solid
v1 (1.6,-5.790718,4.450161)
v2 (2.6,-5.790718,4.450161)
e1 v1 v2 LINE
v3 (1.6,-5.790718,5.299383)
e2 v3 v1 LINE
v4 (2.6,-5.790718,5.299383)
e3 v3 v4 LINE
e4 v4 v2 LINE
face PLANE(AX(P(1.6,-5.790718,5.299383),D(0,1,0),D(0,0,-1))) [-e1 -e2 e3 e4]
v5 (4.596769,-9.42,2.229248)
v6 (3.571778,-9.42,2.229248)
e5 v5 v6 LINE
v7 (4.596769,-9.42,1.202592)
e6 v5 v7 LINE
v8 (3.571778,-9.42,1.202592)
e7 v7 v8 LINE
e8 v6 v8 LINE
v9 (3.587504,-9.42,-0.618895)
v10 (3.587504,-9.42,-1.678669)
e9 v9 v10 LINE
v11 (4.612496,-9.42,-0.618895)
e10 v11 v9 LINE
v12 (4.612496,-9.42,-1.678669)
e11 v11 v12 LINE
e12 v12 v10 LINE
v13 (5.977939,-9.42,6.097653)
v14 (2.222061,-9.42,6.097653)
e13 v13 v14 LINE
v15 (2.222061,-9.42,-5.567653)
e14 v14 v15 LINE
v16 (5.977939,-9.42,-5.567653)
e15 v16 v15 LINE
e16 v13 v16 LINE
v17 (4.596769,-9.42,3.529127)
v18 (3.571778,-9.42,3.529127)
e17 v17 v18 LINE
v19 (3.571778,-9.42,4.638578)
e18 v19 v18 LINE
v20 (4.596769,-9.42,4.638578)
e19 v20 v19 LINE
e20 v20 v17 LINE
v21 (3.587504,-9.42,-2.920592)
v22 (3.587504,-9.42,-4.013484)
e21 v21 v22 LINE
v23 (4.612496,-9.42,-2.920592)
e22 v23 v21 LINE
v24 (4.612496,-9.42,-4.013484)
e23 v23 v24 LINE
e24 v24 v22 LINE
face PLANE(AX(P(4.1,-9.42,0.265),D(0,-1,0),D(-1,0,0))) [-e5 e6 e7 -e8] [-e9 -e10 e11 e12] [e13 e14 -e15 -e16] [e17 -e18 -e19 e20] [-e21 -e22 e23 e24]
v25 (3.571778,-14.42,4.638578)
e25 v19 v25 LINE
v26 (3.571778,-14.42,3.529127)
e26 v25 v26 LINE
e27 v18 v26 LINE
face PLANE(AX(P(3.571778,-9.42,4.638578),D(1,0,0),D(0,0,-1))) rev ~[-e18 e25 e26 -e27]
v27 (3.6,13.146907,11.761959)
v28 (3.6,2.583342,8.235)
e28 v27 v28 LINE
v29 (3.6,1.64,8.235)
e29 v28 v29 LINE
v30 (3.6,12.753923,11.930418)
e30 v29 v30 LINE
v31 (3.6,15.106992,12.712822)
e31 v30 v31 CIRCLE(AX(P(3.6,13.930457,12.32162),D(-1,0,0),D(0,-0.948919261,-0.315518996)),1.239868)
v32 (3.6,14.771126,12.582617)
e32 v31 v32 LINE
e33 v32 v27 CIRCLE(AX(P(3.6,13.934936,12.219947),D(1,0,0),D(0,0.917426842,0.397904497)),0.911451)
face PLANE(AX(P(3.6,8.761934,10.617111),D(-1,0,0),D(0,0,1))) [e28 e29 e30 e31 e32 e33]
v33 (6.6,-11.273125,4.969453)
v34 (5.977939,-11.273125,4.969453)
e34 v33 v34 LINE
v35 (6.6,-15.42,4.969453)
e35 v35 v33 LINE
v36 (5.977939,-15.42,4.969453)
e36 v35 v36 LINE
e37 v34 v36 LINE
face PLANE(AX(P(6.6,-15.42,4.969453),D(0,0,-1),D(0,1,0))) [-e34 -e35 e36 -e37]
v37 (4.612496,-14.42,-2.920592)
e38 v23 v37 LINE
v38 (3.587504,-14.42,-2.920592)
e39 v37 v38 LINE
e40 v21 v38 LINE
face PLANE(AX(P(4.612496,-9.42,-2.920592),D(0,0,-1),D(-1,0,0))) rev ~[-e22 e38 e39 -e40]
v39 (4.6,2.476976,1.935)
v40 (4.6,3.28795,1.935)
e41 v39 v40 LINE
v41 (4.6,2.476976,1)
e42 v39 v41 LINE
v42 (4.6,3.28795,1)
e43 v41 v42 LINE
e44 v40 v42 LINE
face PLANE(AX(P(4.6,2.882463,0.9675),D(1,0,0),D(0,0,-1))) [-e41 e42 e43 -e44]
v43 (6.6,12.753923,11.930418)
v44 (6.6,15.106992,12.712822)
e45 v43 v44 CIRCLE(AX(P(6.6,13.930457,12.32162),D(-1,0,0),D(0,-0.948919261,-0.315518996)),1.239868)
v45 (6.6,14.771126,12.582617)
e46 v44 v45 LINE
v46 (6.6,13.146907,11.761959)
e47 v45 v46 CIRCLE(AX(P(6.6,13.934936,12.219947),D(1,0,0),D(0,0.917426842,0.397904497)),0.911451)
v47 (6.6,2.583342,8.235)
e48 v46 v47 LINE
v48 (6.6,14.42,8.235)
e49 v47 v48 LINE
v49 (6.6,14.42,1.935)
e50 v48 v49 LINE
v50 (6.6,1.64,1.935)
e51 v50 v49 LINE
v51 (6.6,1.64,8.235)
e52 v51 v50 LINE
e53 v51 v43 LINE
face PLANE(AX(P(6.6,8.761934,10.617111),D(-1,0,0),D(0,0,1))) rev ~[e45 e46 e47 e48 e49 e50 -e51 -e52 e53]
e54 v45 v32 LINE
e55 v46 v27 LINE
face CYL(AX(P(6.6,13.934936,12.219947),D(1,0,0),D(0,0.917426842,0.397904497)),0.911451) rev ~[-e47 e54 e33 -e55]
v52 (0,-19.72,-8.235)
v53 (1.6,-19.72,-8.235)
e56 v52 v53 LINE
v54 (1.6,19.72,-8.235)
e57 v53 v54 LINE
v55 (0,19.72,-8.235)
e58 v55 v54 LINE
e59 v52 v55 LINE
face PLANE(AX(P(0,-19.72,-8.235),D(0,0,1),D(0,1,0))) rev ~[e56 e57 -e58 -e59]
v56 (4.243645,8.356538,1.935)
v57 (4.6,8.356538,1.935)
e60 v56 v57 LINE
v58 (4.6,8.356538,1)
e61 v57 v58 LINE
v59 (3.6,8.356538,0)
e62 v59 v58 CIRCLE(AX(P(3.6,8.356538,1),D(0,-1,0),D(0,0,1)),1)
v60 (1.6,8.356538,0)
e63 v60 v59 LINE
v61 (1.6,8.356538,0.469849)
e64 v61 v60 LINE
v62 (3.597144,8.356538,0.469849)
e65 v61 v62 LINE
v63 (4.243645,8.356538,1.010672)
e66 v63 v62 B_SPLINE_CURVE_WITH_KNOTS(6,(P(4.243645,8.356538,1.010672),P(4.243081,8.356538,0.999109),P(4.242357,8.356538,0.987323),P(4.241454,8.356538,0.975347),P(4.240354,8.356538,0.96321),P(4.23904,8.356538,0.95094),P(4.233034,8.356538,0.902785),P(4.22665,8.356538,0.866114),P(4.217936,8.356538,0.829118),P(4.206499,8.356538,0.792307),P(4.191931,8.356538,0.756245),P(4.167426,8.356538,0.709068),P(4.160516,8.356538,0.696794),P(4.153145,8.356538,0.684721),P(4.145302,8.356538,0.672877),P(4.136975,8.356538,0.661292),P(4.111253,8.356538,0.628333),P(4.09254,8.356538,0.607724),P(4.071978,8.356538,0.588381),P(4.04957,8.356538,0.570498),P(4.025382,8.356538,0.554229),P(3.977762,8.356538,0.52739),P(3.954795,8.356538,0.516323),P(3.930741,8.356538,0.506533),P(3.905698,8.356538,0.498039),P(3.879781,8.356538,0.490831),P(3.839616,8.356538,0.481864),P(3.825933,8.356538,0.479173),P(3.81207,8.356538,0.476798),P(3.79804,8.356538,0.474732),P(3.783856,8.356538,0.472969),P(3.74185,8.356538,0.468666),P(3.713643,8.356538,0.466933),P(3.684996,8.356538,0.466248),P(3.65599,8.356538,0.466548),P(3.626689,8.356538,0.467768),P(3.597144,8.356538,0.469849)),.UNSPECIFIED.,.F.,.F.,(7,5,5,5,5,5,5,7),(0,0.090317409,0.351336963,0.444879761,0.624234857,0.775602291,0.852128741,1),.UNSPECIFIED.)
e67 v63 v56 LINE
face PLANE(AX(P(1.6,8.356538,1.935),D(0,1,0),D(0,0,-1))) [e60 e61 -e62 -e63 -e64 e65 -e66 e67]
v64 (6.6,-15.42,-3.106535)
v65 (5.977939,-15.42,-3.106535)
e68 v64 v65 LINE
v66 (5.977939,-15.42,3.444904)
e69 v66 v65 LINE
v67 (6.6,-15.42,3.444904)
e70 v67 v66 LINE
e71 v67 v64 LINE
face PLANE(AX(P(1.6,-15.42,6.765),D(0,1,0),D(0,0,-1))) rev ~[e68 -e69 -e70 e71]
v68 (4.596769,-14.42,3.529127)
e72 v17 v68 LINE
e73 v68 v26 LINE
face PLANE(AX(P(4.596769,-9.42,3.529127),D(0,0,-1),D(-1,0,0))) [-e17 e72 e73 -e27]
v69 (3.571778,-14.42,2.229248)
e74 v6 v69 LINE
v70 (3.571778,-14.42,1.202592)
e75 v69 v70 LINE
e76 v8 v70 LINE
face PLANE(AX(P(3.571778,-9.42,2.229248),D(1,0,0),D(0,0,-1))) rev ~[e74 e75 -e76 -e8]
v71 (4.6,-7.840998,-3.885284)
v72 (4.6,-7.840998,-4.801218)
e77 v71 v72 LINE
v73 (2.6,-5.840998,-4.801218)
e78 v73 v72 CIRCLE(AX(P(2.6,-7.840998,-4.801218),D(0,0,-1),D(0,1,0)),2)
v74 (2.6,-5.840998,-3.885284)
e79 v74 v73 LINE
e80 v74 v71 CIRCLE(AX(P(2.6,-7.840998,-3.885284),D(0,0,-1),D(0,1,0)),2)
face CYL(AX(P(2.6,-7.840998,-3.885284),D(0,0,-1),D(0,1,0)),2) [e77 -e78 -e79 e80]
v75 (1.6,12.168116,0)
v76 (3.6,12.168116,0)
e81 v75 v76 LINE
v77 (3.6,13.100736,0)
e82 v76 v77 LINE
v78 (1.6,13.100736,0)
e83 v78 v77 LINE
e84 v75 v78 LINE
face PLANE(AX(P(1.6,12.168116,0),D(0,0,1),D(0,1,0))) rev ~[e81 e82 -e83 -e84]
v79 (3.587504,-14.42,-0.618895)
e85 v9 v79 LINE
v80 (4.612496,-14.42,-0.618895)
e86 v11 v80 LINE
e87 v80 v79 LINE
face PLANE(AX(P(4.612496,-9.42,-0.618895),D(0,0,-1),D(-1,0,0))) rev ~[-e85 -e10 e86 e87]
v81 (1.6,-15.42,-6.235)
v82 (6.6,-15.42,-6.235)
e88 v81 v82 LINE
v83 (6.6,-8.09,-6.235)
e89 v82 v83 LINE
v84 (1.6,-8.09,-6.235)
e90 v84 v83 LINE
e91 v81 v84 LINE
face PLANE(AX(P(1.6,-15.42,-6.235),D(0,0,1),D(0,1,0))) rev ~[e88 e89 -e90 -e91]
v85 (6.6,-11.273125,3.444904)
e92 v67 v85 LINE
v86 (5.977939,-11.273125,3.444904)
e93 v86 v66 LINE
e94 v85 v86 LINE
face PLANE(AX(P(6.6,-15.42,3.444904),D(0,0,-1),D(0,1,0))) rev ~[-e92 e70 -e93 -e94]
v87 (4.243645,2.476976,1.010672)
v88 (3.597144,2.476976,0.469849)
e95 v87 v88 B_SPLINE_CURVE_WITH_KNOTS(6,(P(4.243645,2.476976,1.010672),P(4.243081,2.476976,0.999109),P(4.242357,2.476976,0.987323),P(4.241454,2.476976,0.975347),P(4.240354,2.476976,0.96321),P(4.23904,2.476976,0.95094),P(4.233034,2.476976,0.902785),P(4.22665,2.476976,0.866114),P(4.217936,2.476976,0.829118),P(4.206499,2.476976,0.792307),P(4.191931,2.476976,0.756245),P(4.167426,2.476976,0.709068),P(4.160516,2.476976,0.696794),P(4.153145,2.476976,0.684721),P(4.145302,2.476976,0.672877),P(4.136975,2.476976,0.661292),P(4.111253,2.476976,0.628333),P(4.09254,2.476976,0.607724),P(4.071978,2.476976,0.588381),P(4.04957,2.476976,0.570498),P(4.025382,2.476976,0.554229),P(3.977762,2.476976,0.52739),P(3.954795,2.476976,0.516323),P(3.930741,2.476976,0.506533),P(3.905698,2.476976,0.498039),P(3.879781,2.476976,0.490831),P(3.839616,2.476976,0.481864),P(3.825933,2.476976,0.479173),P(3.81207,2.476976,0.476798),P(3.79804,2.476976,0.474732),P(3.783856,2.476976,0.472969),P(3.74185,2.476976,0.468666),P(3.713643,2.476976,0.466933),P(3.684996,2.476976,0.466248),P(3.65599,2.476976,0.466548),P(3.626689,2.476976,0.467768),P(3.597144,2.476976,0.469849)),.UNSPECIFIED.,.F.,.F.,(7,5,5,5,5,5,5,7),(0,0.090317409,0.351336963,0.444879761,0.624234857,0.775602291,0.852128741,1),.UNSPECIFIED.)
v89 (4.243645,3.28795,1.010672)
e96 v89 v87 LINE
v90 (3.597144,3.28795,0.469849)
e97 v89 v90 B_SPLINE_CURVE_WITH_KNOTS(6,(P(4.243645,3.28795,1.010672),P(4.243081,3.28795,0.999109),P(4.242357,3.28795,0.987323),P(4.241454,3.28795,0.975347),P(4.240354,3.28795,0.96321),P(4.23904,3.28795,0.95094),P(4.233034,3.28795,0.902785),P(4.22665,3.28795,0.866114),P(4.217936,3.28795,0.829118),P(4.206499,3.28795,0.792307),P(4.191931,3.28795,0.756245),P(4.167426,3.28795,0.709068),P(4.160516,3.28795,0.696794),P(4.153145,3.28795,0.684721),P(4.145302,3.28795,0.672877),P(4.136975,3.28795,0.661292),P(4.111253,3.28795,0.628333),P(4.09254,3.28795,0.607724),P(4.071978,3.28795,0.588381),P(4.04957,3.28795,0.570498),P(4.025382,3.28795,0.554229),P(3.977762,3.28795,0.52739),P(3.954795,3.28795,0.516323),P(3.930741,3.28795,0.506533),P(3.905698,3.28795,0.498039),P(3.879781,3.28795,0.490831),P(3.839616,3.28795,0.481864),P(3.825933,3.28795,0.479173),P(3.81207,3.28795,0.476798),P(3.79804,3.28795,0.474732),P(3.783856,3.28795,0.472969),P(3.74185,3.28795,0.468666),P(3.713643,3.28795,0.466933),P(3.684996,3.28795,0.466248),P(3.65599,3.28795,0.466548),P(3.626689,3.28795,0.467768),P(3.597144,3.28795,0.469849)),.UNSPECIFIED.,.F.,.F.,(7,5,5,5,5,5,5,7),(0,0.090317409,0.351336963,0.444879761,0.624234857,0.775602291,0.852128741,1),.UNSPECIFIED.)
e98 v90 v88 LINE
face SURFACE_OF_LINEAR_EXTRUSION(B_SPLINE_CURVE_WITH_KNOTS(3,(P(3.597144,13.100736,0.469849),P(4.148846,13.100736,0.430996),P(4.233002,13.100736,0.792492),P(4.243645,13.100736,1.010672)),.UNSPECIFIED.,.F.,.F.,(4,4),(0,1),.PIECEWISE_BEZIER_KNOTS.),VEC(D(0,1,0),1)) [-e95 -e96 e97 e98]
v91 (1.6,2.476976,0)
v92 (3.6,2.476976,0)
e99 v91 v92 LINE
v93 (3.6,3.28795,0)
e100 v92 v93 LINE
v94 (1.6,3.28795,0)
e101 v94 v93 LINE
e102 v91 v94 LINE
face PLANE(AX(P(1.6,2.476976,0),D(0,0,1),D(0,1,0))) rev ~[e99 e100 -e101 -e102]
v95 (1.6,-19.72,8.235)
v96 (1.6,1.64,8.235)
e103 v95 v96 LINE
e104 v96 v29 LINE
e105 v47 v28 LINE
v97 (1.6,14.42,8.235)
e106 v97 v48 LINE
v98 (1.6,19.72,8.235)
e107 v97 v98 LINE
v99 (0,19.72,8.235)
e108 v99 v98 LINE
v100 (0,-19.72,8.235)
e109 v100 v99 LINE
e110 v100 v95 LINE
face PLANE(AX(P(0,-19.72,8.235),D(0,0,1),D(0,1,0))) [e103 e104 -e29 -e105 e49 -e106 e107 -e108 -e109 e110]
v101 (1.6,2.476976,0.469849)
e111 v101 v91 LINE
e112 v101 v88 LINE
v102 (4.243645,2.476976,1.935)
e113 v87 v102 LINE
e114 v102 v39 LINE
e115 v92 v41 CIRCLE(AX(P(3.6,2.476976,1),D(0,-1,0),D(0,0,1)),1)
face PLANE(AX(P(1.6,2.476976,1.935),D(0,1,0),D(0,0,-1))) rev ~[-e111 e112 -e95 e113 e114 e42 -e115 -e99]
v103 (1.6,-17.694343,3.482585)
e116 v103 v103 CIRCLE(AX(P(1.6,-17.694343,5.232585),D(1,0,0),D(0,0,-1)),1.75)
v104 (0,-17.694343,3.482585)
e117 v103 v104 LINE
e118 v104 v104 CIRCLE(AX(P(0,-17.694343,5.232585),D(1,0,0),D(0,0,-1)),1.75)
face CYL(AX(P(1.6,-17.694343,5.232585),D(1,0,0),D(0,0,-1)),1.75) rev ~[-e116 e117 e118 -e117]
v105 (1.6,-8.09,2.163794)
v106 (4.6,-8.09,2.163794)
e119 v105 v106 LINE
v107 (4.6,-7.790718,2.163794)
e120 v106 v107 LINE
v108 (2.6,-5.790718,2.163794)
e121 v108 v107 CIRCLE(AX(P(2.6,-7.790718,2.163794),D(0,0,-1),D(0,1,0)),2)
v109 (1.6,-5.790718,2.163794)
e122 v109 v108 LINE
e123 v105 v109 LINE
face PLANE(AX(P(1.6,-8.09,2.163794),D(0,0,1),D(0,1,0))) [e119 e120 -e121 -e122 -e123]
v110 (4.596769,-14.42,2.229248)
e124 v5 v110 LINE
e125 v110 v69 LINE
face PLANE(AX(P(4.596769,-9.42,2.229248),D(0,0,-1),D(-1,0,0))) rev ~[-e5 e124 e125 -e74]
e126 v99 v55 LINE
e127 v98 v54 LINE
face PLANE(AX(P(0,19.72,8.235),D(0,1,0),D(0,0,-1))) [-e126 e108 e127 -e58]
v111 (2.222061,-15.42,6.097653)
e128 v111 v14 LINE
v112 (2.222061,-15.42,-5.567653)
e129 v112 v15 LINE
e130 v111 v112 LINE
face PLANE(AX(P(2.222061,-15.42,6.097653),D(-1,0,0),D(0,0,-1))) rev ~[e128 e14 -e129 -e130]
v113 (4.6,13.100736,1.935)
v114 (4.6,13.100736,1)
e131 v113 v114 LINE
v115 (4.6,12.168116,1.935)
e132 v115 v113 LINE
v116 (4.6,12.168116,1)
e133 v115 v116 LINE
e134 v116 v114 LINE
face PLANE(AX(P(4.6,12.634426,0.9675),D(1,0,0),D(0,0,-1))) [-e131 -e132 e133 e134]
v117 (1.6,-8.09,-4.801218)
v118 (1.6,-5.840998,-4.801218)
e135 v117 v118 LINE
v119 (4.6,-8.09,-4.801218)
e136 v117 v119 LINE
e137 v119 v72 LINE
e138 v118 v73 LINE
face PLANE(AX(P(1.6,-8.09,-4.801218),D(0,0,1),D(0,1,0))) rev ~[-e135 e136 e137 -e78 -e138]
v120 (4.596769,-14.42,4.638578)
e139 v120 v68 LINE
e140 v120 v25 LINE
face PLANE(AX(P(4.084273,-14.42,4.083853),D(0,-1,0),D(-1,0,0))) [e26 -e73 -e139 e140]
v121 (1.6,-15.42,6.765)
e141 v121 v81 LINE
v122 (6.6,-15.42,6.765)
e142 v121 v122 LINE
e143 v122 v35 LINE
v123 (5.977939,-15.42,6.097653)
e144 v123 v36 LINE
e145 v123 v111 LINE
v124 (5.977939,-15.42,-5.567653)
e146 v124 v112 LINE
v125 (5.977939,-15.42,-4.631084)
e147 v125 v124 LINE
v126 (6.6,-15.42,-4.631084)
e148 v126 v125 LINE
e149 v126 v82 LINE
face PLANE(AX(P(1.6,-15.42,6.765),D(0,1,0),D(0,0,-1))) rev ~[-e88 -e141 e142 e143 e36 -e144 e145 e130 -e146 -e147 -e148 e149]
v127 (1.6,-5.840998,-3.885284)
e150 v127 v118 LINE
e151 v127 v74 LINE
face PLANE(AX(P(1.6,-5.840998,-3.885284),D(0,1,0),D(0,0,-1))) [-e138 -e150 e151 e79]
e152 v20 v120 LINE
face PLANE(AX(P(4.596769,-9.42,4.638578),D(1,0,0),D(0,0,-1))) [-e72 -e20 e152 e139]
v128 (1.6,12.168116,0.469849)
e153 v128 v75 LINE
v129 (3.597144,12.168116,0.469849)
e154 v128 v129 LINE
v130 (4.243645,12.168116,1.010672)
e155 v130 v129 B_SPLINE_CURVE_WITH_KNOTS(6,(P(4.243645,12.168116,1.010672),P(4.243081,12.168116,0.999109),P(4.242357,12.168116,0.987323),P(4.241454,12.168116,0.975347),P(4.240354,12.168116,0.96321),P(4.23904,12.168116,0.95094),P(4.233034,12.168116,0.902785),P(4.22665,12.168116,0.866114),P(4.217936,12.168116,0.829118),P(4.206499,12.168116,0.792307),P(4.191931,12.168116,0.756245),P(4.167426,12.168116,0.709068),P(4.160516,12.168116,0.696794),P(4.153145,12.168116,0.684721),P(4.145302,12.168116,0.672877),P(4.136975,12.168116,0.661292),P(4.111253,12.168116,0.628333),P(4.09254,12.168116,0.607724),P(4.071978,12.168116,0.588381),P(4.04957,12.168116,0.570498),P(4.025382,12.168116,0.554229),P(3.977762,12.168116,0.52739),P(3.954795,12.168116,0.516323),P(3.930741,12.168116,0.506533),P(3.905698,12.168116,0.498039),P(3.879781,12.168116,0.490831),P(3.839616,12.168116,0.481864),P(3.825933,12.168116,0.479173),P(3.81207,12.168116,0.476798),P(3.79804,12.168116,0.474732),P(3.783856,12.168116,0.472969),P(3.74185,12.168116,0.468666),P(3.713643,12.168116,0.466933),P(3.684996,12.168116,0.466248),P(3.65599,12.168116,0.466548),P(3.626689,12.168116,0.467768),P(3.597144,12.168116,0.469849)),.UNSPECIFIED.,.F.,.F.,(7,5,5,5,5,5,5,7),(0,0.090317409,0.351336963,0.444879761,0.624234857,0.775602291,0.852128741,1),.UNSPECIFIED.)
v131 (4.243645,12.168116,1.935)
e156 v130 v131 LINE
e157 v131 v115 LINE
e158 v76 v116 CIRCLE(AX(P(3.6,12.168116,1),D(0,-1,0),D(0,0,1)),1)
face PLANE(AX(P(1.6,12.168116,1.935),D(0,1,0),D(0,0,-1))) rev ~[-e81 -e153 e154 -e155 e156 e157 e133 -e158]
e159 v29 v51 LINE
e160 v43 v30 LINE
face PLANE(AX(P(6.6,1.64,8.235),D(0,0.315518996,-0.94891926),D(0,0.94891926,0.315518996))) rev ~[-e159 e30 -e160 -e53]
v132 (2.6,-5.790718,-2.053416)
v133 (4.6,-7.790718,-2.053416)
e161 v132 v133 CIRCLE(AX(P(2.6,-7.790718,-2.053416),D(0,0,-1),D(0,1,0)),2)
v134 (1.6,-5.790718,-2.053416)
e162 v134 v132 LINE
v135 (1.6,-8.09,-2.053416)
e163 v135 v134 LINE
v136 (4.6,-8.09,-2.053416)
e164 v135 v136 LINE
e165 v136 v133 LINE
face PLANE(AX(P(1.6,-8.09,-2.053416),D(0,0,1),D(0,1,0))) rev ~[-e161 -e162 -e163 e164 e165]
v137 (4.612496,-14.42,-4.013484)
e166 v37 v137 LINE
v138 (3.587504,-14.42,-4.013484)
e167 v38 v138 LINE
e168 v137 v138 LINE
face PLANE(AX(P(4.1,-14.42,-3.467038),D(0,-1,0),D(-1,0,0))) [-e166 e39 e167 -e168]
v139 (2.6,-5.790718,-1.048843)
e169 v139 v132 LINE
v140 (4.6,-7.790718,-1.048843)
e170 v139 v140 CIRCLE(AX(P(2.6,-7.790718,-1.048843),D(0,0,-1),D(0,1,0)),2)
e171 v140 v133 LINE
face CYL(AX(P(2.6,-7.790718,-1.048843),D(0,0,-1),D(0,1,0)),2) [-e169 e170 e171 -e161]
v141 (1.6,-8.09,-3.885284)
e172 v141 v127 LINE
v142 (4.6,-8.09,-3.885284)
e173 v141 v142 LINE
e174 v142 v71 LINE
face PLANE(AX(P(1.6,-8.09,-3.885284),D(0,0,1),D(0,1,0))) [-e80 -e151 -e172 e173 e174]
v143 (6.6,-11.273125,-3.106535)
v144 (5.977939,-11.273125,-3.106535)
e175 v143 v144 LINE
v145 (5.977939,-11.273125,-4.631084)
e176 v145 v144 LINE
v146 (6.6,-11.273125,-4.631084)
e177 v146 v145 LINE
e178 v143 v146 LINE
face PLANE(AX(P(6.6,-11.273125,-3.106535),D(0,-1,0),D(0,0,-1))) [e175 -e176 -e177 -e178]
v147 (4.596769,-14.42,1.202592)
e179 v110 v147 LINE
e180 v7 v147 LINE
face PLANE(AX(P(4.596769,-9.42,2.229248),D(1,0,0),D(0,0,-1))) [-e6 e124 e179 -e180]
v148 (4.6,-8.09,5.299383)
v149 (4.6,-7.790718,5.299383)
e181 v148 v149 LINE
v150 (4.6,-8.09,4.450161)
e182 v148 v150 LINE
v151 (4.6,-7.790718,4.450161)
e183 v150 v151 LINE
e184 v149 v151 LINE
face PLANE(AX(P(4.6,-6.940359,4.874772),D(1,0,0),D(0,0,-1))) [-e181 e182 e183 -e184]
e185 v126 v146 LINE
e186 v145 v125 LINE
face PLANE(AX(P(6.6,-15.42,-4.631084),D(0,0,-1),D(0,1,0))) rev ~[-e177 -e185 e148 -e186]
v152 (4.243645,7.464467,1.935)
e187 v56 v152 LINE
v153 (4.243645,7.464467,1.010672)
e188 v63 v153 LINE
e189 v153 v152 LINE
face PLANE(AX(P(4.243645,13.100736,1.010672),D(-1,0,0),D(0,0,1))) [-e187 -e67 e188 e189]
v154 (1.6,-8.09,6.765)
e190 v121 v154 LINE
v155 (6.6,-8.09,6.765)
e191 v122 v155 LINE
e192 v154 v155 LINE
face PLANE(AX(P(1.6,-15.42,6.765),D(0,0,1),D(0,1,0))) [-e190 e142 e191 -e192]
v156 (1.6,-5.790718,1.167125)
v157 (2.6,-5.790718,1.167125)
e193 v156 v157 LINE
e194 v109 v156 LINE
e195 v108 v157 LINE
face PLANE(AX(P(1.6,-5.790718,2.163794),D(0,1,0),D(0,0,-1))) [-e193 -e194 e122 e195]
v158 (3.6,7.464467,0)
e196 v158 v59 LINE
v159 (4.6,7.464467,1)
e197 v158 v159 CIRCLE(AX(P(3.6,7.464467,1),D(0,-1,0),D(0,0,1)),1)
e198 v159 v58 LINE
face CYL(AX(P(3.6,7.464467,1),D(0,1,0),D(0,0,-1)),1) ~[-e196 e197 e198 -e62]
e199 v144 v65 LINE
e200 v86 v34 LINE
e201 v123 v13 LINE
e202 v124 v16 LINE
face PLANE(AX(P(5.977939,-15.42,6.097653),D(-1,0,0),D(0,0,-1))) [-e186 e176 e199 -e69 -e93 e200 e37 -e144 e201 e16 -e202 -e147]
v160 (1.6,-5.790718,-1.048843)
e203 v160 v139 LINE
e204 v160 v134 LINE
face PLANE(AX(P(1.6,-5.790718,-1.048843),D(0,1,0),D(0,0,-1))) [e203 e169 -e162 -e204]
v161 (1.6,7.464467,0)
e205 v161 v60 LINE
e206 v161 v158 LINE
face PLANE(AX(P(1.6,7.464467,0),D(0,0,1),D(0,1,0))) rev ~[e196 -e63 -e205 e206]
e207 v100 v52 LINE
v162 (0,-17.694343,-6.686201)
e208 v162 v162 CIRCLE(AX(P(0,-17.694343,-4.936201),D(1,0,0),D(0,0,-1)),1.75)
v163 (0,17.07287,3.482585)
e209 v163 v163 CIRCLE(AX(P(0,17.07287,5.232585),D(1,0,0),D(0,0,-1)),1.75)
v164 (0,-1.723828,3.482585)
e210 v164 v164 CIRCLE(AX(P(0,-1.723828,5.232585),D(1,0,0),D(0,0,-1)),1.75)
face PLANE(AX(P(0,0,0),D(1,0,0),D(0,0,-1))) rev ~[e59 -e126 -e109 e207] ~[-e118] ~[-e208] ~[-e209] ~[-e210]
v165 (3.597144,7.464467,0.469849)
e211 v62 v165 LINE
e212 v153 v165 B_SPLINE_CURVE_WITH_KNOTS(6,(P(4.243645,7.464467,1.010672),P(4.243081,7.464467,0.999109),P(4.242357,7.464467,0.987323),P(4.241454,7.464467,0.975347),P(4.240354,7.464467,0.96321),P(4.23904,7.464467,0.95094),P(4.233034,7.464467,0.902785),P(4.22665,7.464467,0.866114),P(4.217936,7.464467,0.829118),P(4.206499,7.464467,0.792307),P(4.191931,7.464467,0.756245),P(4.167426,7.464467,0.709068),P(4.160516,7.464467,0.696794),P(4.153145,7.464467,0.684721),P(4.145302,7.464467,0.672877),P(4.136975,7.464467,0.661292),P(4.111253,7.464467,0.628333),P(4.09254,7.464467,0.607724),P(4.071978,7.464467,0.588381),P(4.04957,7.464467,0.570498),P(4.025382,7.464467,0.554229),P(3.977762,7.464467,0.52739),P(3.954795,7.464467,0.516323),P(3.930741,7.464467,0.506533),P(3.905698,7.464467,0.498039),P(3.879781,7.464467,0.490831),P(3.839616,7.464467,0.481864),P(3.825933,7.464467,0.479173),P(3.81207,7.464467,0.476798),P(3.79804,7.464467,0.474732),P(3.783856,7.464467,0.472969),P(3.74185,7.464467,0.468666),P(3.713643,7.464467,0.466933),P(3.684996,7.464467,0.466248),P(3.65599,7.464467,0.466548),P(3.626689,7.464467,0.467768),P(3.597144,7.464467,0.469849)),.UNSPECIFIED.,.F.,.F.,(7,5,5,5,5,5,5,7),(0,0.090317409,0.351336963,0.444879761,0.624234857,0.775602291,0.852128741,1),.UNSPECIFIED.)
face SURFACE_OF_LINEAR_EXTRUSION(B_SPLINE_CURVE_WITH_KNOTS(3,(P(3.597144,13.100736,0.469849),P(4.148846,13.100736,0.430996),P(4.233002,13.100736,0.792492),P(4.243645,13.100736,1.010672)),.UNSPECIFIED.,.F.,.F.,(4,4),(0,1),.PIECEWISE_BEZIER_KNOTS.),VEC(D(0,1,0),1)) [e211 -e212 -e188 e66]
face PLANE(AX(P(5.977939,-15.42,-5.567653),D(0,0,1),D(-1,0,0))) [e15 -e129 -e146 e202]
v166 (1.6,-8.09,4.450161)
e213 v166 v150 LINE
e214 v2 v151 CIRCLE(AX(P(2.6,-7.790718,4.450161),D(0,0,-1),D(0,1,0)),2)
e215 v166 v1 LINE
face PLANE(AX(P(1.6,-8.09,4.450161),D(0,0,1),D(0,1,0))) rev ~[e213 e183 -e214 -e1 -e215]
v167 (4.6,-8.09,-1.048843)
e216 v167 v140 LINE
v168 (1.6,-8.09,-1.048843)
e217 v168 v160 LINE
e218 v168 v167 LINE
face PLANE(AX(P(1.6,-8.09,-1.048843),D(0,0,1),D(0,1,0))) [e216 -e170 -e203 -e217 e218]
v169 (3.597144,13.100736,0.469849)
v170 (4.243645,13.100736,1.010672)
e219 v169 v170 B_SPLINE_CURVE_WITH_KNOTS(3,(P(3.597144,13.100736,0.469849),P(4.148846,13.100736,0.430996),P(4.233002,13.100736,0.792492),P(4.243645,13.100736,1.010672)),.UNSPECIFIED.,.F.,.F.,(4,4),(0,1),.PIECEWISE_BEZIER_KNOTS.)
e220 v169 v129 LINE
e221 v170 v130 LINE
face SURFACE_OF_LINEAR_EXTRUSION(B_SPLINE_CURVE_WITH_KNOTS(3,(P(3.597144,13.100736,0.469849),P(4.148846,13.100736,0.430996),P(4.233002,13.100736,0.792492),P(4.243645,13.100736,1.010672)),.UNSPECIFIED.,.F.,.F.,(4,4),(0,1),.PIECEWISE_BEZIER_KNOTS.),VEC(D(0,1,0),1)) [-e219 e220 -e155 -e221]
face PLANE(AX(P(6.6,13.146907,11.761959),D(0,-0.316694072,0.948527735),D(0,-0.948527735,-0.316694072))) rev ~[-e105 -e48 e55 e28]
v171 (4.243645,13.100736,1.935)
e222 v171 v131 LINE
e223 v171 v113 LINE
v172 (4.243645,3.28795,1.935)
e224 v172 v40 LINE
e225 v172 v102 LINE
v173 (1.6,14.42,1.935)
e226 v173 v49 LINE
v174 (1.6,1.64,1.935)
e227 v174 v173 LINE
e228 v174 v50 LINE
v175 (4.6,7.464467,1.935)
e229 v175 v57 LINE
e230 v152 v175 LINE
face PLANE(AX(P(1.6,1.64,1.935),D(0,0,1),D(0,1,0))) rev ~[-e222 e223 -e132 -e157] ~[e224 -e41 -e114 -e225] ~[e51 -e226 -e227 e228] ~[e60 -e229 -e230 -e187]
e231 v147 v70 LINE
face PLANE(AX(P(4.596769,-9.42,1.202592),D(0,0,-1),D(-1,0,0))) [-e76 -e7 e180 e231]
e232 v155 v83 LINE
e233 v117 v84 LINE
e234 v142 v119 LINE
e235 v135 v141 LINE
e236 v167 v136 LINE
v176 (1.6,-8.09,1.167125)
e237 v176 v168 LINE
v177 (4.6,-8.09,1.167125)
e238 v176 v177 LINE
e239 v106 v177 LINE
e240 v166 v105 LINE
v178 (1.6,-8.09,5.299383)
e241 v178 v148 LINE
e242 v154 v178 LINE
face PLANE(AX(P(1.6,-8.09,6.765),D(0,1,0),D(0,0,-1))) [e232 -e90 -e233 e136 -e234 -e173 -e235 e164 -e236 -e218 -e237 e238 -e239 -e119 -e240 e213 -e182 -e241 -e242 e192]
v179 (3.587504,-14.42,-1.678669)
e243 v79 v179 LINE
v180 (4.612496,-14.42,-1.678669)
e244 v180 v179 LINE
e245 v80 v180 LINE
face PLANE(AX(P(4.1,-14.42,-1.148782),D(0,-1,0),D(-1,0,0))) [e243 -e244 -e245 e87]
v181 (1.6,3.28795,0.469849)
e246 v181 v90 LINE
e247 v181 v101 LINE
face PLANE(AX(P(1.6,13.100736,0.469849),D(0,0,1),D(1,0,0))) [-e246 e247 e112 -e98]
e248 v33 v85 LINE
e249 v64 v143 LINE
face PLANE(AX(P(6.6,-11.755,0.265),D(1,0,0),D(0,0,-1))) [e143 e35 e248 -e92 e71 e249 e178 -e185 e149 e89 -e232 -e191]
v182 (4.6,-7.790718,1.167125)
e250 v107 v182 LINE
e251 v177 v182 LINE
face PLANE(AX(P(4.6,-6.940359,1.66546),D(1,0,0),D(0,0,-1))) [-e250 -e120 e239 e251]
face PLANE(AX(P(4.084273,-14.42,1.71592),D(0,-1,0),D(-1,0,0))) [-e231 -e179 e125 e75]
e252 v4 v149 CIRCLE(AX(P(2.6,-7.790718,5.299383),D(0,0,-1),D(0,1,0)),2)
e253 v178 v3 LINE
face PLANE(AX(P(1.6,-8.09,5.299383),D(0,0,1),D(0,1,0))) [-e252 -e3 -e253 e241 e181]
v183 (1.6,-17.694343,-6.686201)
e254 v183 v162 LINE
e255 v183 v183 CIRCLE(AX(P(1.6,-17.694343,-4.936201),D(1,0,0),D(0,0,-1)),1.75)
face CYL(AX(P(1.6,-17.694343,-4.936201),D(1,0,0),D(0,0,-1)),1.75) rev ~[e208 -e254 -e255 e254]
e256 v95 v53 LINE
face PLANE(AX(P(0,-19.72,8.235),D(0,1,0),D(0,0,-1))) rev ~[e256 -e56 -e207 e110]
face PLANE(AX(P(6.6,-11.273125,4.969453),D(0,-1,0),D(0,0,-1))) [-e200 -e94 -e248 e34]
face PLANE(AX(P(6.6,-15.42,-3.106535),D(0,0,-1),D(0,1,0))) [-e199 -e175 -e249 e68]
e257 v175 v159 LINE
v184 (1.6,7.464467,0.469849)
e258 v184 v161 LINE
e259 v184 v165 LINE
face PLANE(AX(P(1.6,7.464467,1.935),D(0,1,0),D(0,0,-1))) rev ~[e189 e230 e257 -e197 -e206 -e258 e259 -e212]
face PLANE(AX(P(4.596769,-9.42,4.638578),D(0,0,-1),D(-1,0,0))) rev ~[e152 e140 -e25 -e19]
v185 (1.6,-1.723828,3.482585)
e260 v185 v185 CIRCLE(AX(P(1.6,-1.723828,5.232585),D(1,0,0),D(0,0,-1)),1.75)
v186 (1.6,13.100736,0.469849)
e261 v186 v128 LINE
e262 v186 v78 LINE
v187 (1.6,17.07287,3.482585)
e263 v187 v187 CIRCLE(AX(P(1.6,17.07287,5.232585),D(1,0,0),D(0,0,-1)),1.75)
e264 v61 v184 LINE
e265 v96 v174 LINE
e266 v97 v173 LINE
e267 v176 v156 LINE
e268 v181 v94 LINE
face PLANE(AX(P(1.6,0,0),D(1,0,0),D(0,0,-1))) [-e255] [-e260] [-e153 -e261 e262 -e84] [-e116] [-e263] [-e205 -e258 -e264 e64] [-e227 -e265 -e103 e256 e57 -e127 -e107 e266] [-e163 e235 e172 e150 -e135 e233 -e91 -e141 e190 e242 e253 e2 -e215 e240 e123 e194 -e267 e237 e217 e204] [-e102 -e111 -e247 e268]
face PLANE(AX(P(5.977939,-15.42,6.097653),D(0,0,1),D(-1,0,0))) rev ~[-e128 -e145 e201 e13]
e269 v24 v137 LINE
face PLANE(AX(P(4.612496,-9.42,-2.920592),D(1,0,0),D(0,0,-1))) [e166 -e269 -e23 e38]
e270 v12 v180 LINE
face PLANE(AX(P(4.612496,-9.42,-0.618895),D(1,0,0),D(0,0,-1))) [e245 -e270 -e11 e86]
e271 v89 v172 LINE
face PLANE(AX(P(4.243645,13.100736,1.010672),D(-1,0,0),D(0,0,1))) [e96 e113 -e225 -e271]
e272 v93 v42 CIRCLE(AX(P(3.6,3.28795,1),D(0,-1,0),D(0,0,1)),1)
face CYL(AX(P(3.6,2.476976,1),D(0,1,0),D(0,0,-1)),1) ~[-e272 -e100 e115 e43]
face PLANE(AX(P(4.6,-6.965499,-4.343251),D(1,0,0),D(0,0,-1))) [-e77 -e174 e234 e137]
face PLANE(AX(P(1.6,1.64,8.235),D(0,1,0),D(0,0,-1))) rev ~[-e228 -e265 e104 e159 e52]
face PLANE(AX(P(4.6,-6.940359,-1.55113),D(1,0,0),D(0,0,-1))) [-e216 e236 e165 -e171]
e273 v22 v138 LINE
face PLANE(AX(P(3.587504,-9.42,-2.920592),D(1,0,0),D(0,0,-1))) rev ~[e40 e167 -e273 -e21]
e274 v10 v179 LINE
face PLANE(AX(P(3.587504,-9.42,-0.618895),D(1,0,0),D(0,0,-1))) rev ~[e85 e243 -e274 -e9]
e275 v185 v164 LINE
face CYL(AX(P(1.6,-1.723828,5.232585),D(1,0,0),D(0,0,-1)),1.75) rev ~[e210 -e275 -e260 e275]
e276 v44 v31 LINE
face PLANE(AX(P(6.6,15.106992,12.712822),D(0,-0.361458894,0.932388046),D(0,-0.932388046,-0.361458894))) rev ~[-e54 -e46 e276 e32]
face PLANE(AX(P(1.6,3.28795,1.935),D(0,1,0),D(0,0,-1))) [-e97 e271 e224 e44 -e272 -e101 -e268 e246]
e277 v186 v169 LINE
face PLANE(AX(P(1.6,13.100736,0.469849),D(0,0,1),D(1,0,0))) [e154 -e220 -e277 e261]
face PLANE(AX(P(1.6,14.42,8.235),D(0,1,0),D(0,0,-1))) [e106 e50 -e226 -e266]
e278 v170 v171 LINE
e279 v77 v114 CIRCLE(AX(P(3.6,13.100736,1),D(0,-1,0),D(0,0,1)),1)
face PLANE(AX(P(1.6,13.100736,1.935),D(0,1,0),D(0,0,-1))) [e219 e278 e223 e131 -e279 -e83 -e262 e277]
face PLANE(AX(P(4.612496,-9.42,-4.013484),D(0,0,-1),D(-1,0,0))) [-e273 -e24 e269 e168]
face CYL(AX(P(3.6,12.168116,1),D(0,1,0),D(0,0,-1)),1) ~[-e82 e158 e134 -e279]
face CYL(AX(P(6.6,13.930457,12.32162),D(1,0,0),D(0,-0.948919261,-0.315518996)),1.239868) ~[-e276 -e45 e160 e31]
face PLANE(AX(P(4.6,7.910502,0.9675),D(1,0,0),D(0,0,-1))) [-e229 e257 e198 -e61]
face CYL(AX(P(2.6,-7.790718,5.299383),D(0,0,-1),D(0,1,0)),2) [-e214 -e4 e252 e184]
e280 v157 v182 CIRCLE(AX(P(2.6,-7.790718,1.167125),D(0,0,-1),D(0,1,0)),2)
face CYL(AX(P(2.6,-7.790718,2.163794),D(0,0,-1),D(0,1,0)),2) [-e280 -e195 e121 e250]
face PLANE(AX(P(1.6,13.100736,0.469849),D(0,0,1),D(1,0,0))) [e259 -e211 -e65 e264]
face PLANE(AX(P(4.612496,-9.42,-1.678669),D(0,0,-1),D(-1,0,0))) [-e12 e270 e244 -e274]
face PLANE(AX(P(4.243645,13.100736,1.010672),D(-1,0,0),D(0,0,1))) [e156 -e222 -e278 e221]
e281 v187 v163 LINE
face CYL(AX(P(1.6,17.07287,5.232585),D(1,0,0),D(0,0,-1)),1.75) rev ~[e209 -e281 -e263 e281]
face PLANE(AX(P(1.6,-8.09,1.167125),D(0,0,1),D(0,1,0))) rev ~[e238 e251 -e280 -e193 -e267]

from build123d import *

# Parameters (mm, degrees)
SKETCH1_W           = 16.47
SKETCH1_H           = 39.44
BOSS_EXTRUDE1_DEPTH = 1.6
SKETCH2_W           = 6.3
SKETCH2_H           = 12.78
BOSS_EXTRUDE2_DEPTH = 5
SKETCH3_W           = 13
SKETCH3_H           = 7.33
BOSS_EXTRUDE3_DEPTH = 5
SKETCH4_W           = 0.849222168
SKETCH4_H           = 2.299281869
SKETCH4_W_2         = 0.996668432
SKETCH4_W_3         = 1.004572576
SKETCH4_W_4         = 0.915933819
SKETCH4_H_2         = 2.249002208
BOSS_EXTRUDE4_DEPTH = 3
SKETCH5_W           = 3.755878466
SKETCH5_H           = 11.665306642
CUT_EXTRUDE1_DEPTH  = 6
FILLET2_R           = 2
SKETCH6_W           = 1.024991321
SKETCH6_H           = 1.10945112
SKETCH6_H_2         = 1.02665626
SKETCH6_W_2         = 1.024991322
SKETCH6_H_3         = 1.059774204
SKETCH6_H_4         = 1.092892148
BOSS_EXTRUDE5_DEPTH = 5
SKETCH7_W           = 1.524548779
SKETCH7_H           = 4.1468753
CUT_EXTRUDE2_DEPTH  = 1
SKETCH8_W           = 1.935
SKETCH8_H           = 0.932620141
SKETCH8_H_2         = 0.892071439
SKETCH8_H_3         = 0.810974035
BOSS_EXTRUDE6_DEPTH = 3
FILLET3_R           = 1
CUT_EXTRUDE3_DEPTH  = 11
SKETCH10_R          = 1.75
CUT_EXTRUDE4_DEPTH  = 11
BOSS_EXTRUDE7_DEPTH = 3


with BuildPart() as part:
    # Sketch1 → Boss-Extrude1 (new body)
    with BuildSketch(Plane(origin=(0, 0, 0), x_dir=(0, 0, -1), z_dir=(1, 0, 0))):
        Rectangle(SKETCH1_W, SKETCH1_H)
    extrude(amount=BOSS_EXTRUDE1_DEPTH)

    # Sketch2 → Boss-Extrude2 (add)
    with BuildSketch(Plane(origin=(1.6, 0, 0), x_dir=(0, 0, -1), z_dir=(1, 0, 0))):
        with Locations((-5.085, 8.03)):
            Rectangle(SKETCH2_W, SKETCH2_H)
    extrude(amount=BOSS_EXTRUDE2_DEPTH)

    # Sketch3 → Boss-Extrude3 (add)
    with BuildSketch(Plane(origin=(1.6, 0, 0), x_dir=(0, 0, -1), z_dir=(1, 0, 0))):
        with Locations((-0.265, -11.755)):
            Rectangle(SKETCH3_W, SKETCH3_H)
    extrude(amount=BOSS_EXTRUDE3_DEPTH)

    # Sketch4 → Boss-Extrude4 (add)
    with BuildSketch(Plane(origin=(1.6, 0, 0), x_dir=(0, 0, -1), z_dir=(1, 0, 0))):
        with Locations((-4.874772316, -6.940359066)):
            Rectangle(SKETCH4_W, SKETCH4_H)
        with Locations((-1.665459639, -6.940359066)):
            Rectangle(SKETCH4_W_2, SKETCH4_H)
        with Locations((1.551129782, -6.940359066)):
            Rectangle(SKETCH4_W_3, SKETCH4_H)
        with Locations((4.343250619, -6.965498896)):
            Rectangle(SKETCH4_W_4, SKETCH4_H_2)
    extrude(amount=BOSS_EXTRUDE4_DEPTH)

    # Sketch5 → Cut-Extrude1 (cut)
    with BuildSketch(Plane(origin=(0, -15.42, 0), x_dir=(-1, 0, 0), z_dir=(0, -1, 0))):
        with Locations((-4.1, -0.265)):
            Rectangle(SKETCH5_W, SKETCH5_H)
    extrude(amount=-CUT_EXTRUDE1_DEPTH, mode=Mode.SUBTRACT)

    # Fillet2
    fillet2_edges = [part.edges().sort_by_distance(p)[0] for p in [
        (4.6, -5.790718131, 4.874772316),
        (4.6, -5.790718131, 1.665459639),
        (4.6, -5.790718131, -1.551129782),
        (4.6, -5.840997792, -4.343250618),
    ]]
    fillet(fillet2_edges, radius=FILLET2_R)

    # Sketch6 → Boss-Extrude5 (add)
    with BuildSketch(Plane(origin=(0, -9.42, 0), x_dir=(-1, 0, 0), z_dir=(0, -1, 0))):
        with Locations((-4.084273497, -4.083852883)):
            Rectangle(SKETCH6_W, SKETCH6_H)
        with Locations((-4.084273497, -1.715919896)):
            Rectangle(SKETCH6_W, SKETCH6_H_2)
        with Locations((-4.1, 1.14878225)):
            Rectangle(SKETCH6_W_2, SKETCH6_H_3)
        with Locations((-4.1, 3.467038322)):
            Rectangle(SKETCH6_W_2, SKETCH6_H_4)
    extrude(amount=BOSS_EXTRUDE5_DEPTH)

    # Sketch7 → Cut-Extrude2 (cut)
    with BuildSketch(Plane(origin=(6.6, 0, 0), x_dir=(0, 0, -1), z_dir=(1, 0, 0))):
        with Locations((-4.207178808, -13.34656235)):
            Rectangle(SKETCH7_W, SKETCH7_H)
        with Locations((3.868809321, -13.34656235)):
            Rectangle(SKETCH7_W, SKETCH7_H)
    extrude(amount=-CUT_EXTRUDE2_DEPTH, mode=Mode.SUBTRACT)

    # Sketch8 → Boss-Extrude6 (add)
    with BuildSketch(Plane(origin=(1.6, 0, 0), x_dir=(0, 0, -1), z_dir=(1, 0, 0))):
        with Locations((-0.9675, 12.634426175)):
            Rectangle(SKETCH8_W, SKETCH8_H)
        with Locations((-0.9675, 7.91050242)):
            Rectangle(SKETCH8_W, SKETCH8_H_2)
        with Locations((-0.9675, 2.8824634)):
            Rectangle(SKETCH8_W, SKETCH8_H_3)
    extrude(amount=BOSS_EXTRUDE6_DEPTH)

    # Fillet3
    fillet3_edges = [part.edges().sort_by_distance(p)[0] for p in [
        (4.6, 12.634426176, 0),
        (4.6, 7.910502419, 0),
        (4.6, 2.8824634, 0),
    ]]
    fillet(fillet3_edges, radius=FILLET3_R)

    # Sketch9 → Cut-Extrude3 (cut)
    with BuildSketch(Plane(origin=(0, 13.100736246, 0), x_dir=(1, 0, 0), z_dir=(0, 1, 0))):
        with BuildLine():
            Line((1.6, -0.469848577), (3.597144342, -0.469848577))
            add(Edge.make_bspline(
                [(3.597144342, -0.469848577), (4.148845696, -0.430996369), (4.233002481, -0.792491938), (4.243645389, -1.010671568)],
                knots=[0, 0, 0, 0, 1, 1, 1, 1], degree=3))
            Line((4.243645389, -1.010671568), (4.243645389, -1.935))
            Line((4.243645389, -1.935), (1.6, -1.935))
            Line((1.6, -1.935), (1.6, -0.469848577))
        make_face()
    extrude(amount=-CUT_EXTRUDE3_DEPTH, mode=Mode.SUBTRACT)

    # Sketch10 → Cut-Extrude4 (cut)
    with BuildSketch(Plane(origin=(1.6, 0, 0), x_dir=(0, 0, -1), z_dir=(1, 0, 0))):
        with Locations((-5.232585415, -1.723827663)):
            Circle(SKETCH10_R)
        with Locations((-5.232585415, 17.072870227)):
            Circle(SKETCH10_R)
        with Locations((-5.232585415, -17.69434278)):
            Circle(SKETCH10_R)
        with Locations((4.936201482, -17.69434278)):
            Circle(SKETCH10_R)
    extrude(amount=-CUT_EXTRUDE4_DEPTH, mode=Mode.SUBTRACT)

    # Sketch11 → Boss-Extrude7 (add)
    with BuildSketch(Plane(origin=(6.6, 0, 0), x_dir=(0, 0, -1), z_dir=(1, 0, 0))):
        with BuildLine():
            Line((-8.235, 1.64), (-11.930418499, 12.753922868))
            ThreePointArc((-11.930418499, 12.753922868), (-13.49815489, 13.539255516), (-12.712822243, 15.106991908))
            Line((-12.712822243, 15.106991908), (-12.58261695, 14.771125615))
            ThreePointArc((-12.58261695, 14.771125615), (-13.033453184, 13.523901114), (-11.761958985, 13.146906726))
            Line((-11.761958985, 13.146906726), (-8.235, 2.583341722))
            Line((-8.235, 2.583341722), (-8.235, 1.64))
        make_face()
    extrude(amount=-BOSS_EXTRUDE7_DEPTH)


solid = part.part
